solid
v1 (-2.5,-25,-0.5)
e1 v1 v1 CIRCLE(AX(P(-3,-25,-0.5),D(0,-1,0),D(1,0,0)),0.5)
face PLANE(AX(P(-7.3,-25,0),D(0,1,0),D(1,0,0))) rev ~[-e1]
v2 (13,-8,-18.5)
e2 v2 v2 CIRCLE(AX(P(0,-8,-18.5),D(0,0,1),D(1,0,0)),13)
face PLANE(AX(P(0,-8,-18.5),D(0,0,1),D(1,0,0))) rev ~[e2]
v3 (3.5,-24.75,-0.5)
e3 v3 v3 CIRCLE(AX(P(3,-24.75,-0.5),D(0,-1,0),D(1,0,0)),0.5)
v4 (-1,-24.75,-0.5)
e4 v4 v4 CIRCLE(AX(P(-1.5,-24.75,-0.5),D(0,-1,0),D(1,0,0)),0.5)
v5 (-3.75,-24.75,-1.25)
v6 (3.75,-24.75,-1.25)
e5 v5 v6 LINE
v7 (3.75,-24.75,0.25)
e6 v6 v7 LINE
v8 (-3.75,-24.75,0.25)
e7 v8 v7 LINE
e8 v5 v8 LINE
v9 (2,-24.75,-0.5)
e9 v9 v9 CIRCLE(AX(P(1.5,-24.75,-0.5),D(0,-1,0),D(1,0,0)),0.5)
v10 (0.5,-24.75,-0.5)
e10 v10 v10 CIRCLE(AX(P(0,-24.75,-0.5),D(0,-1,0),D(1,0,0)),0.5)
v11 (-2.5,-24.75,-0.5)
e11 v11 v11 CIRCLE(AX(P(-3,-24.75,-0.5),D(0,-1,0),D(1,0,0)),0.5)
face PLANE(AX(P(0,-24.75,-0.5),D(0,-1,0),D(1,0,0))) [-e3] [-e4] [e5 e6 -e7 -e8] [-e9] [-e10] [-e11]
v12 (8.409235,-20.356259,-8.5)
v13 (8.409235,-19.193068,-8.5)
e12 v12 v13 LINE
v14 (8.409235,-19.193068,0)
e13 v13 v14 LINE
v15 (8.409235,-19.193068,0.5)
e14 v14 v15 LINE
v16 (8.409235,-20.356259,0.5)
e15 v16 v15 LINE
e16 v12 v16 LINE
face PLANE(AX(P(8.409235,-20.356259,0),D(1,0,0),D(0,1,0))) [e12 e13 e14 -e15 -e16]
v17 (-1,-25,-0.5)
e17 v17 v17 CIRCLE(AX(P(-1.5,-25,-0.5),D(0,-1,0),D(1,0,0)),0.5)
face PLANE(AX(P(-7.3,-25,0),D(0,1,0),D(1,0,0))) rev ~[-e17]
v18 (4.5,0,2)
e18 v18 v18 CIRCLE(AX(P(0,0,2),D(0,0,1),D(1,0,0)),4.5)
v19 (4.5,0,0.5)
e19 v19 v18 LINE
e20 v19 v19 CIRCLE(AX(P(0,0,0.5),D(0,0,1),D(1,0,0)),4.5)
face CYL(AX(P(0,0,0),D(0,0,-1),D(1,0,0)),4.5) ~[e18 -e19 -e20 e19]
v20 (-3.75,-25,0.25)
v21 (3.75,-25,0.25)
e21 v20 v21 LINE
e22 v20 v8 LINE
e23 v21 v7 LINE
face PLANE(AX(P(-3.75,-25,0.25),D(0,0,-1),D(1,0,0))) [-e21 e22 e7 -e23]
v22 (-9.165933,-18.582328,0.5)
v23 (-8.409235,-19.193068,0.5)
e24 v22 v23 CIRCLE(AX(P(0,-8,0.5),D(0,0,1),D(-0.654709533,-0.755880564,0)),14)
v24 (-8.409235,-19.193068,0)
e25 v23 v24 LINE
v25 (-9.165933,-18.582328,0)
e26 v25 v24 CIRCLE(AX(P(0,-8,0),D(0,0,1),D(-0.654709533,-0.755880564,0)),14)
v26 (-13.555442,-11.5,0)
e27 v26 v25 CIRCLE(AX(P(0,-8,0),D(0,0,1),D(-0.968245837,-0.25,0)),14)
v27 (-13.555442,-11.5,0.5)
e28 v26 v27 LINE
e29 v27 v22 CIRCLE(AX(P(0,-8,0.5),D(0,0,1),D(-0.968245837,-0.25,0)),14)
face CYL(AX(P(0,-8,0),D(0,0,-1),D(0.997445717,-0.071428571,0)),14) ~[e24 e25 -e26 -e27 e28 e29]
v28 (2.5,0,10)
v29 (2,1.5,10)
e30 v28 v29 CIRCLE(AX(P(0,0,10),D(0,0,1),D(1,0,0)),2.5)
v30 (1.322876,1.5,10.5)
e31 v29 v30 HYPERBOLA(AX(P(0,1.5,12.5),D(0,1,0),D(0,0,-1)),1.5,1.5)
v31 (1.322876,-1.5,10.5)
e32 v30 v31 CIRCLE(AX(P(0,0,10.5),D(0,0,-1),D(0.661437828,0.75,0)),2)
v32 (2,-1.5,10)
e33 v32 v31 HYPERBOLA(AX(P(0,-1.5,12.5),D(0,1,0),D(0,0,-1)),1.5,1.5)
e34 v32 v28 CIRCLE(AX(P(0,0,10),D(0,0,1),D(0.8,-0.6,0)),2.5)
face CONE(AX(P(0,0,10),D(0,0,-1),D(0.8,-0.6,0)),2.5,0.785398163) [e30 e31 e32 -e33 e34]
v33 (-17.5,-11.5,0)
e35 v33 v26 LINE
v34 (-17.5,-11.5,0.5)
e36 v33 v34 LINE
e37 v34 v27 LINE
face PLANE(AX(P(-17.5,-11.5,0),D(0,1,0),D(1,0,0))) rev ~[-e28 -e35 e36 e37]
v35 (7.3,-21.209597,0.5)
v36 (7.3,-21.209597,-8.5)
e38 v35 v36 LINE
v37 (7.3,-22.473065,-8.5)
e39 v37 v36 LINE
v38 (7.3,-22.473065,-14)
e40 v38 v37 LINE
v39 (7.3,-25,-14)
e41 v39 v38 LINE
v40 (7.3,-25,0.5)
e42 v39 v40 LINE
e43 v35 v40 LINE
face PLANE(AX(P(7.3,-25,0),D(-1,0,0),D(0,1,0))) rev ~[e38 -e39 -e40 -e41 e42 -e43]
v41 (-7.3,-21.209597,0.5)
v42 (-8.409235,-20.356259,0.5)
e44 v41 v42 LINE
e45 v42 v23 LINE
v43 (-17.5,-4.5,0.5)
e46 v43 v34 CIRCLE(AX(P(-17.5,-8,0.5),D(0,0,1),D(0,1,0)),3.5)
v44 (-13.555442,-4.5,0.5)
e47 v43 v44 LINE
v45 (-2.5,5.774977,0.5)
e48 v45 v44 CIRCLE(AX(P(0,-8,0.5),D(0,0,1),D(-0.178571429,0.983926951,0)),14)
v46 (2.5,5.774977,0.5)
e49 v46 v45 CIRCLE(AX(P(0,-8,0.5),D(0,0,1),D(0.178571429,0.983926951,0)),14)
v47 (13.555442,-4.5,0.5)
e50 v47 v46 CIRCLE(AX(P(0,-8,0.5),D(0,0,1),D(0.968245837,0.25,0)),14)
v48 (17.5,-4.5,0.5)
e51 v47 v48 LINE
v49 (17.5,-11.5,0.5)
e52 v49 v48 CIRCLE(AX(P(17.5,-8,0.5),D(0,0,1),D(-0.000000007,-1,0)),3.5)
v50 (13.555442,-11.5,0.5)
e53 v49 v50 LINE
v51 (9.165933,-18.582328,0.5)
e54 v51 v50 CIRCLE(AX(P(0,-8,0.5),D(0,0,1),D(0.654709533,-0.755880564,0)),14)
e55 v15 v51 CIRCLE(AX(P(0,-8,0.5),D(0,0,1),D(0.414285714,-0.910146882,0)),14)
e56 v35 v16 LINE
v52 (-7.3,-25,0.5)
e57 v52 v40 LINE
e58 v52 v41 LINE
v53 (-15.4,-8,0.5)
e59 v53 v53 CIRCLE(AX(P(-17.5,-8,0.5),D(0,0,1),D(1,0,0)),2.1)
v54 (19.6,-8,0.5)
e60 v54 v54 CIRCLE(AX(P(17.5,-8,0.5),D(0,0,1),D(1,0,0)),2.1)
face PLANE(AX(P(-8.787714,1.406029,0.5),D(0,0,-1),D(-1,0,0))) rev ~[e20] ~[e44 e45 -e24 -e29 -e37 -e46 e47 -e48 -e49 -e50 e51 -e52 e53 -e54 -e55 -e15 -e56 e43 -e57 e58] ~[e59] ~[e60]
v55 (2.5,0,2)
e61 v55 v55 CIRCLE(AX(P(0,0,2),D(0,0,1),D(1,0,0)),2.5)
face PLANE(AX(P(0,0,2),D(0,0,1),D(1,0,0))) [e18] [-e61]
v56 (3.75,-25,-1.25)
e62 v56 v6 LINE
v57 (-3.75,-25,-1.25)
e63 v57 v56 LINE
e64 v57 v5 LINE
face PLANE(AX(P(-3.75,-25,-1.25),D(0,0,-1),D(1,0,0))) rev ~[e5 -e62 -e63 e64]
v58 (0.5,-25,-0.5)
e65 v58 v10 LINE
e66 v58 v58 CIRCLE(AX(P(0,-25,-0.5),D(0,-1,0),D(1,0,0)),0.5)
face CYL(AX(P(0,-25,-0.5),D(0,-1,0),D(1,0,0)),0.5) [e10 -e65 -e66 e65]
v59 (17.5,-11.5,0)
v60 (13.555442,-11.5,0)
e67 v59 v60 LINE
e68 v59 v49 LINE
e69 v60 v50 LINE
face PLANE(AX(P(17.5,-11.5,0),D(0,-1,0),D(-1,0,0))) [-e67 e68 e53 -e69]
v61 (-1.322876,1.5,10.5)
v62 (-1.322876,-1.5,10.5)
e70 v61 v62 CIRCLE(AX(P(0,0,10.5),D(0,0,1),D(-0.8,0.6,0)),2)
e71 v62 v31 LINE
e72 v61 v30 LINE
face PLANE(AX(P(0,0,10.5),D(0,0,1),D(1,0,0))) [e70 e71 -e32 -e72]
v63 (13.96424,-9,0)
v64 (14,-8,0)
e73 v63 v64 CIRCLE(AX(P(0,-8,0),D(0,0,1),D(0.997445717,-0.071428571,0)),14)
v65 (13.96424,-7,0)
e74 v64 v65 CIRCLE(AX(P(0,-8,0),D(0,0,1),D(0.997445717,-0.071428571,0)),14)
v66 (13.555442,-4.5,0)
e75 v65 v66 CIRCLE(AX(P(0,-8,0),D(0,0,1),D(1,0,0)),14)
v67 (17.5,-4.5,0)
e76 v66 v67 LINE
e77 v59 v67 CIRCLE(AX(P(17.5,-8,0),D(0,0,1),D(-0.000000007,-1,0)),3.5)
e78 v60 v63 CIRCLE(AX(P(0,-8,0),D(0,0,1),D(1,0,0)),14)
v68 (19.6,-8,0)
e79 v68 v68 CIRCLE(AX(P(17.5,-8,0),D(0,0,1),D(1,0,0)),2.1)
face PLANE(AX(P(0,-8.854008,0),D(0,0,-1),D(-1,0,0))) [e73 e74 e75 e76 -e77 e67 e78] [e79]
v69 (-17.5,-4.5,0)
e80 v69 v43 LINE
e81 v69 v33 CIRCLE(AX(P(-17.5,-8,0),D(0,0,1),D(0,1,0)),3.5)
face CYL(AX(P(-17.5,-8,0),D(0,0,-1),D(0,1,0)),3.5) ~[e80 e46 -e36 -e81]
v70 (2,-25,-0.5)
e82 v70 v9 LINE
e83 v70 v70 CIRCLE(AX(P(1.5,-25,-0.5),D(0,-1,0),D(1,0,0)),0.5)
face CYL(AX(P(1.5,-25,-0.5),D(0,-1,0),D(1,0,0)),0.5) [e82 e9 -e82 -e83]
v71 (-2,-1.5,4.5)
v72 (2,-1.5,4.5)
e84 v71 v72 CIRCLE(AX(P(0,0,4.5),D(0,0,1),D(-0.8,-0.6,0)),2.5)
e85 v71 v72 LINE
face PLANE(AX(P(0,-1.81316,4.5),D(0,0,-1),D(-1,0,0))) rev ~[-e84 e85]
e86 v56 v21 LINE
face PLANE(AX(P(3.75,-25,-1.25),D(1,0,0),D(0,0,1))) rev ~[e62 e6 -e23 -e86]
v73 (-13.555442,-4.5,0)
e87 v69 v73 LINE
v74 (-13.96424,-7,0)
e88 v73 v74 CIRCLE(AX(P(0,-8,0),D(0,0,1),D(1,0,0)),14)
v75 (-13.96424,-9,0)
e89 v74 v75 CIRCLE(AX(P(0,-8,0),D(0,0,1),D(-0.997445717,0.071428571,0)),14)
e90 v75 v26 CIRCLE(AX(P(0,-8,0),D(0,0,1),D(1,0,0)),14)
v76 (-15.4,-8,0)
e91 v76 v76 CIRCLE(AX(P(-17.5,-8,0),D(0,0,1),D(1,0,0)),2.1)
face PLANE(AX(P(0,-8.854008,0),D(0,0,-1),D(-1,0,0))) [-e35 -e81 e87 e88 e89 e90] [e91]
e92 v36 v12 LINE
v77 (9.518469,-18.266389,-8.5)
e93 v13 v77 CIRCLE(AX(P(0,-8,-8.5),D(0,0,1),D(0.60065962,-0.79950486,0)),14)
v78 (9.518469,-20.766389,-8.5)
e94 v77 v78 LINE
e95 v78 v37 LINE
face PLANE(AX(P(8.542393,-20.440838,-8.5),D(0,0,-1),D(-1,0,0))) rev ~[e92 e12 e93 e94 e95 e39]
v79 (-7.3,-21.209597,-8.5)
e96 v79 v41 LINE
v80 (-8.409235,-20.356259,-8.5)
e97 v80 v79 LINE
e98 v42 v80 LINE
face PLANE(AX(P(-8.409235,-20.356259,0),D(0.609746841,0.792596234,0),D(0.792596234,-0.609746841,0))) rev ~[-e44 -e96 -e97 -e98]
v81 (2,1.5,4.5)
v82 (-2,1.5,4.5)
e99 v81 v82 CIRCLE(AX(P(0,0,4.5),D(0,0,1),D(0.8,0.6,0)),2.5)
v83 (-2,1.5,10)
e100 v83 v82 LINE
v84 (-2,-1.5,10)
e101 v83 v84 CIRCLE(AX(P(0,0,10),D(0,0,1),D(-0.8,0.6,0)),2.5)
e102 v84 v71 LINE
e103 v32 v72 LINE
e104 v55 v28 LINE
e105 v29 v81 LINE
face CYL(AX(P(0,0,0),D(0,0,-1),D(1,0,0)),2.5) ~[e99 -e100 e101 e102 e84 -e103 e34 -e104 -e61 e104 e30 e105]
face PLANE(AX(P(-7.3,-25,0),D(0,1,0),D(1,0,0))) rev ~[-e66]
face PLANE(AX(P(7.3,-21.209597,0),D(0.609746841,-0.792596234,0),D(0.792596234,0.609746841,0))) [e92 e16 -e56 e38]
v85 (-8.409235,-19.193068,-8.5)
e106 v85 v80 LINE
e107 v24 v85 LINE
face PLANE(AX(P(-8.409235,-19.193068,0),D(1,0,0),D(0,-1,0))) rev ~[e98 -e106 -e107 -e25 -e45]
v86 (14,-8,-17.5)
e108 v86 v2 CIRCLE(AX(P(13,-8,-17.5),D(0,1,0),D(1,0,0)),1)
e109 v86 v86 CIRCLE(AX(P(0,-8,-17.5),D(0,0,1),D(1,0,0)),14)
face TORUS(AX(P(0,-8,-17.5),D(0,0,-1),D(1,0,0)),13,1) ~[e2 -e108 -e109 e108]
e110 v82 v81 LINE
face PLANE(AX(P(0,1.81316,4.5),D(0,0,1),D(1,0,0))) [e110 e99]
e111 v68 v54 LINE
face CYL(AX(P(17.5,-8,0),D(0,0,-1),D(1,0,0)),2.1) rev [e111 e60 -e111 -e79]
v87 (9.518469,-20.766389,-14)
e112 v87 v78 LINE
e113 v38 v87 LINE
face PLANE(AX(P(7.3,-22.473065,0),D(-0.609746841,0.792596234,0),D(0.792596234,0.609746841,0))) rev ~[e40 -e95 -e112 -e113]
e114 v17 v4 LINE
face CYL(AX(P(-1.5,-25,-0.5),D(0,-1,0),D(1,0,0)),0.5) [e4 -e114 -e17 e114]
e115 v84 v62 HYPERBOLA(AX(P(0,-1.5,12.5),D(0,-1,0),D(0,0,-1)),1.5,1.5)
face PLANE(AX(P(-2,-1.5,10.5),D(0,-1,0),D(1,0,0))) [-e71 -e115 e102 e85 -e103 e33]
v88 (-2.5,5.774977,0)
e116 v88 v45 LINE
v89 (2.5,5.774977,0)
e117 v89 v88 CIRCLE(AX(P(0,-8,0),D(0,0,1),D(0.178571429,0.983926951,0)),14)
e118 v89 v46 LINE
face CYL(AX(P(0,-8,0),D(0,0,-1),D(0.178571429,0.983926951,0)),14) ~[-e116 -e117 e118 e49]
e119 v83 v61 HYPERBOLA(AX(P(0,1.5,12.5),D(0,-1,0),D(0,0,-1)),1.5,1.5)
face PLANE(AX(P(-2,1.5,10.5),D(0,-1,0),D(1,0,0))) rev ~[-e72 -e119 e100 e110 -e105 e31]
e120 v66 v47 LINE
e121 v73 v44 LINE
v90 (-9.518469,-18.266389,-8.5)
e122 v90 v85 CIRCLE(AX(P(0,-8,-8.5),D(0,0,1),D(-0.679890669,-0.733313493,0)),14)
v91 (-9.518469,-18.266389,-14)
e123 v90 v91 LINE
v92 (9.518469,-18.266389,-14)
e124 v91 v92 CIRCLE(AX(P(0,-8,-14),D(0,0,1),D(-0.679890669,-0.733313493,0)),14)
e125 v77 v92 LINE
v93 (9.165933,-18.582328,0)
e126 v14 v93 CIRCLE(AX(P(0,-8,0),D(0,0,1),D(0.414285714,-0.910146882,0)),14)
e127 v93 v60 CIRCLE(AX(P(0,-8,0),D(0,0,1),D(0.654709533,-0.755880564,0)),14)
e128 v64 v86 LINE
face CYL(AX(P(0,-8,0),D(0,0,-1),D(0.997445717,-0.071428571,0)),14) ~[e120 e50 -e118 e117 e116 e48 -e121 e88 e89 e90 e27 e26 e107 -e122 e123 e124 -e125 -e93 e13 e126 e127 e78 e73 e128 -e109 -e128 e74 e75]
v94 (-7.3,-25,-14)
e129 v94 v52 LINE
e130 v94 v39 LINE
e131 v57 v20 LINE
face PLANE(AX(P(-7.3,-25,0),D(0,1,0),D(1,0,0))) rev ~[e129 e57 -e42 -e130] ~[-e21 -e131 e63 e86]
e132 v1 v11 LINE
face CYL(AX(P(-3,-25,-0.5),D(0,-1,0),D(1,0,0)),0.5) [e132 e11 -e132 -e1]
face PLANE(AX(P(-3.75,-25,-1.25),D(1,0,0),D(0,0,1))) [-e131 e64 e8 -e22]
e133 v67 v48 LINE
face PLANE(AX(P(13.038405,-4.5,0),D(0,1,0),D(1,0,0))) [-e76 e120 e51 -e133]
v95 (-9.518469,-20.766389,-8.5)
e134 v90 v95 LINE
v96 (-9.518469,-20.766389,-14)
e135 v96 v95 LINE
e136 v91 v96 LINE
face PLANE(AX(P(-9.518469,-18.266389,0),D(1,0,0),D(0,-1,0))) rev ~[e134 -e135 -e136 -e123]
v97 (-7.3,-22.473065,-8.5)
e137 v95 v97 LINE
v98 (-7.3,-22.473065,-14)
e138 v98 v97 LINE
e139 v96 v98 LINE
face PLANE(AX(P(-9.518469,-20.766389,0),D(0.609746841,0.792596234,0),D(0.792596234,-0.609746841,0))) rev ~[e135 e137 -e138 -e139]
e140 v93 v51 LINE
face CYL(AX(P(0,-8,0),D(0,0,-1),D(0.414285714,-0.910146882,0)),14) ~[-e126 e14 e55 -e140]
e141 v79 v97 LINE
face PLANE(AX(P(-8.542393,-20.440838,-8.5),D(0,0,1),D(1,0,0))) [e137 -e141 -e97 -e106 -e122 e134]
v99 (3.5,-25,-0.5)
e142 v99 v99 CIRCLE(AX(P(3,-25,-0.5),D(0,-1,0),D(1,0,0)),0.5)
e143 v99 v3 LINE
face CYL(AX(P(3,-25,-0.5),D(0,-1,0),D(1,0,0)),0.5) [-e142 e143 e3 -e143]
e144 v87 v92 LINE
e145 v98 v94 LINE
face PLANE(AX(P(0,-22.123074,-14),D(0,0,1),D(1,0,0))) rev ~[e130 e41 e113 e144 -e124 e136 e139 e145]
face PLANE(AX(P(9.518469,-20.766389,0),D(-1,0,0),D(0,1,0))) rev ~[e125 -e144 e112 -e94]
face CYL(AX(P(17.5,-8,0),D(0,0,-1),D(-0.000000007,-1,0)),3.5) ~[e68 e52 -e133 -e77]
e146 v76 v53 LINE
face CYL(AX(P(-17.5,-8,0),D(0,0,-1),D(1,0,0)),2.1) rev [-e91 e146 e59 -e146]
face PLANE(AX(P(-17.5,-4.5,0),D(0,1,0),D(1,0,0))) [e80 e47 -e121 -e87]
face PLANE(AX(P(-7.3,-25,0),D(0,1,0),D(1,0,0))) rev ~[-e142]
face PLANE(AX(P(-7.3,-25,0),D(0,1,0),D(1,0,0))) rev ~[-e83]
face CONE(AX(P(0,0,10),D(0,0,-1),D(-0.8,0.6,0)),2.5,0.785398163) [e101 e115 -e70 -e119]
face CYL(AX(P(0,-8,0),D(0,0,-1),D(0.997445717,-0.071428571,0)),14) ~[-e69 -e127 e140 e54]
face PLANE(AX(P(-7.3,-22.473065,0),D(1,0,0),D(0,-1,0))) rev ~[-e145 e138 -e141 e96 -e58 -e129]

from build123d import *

# Parameters (mm, degrees)
SKETCH002_R     = 14
PAD001_DEPTH    = 18.5
SKETCH003_R     = 0.5
PAD002_DEPTH    = 0.5
SKETCH004_R     = 4.5
SKETCH004_R_2   = 4
PAD003_DEPTH    = 2
POCKET_DEPTH    = 6
FILLET_R        = 1
SKETCH007_R     = 4
SKETCH007_R_2   = 2.5
PAD005_DEPTH    = 2
PAD006_DEPTH    = 14
PAD007_DEPTH    = 0.5
POCKET001_DEPTH = 8.5
SKETCH011_W     = 7.5
SKETCH011_H     = 1.5
SKETCH011_R     = 0.5
POCKET002_DEPTH = 0.25
SKETCH012_R     = 2.5
PAD008_DEPTH    = 10.5
POCKET003_DEPTH = 6
CHAMFER_SIZE    = 0.5
SKETCH001_R     = 4.5
SKETCH001_R_2   = 0.5
SKETCH001_R_3   = 2.1
PAD_DEPTH       = 0.5


with BuildPart() as body001:
    # Sketch002 → Pad001 (new body)
    with BuildSketch(Plane.XY):
        with Locations((0, -8)):
            Circle(SKETCH002_R)
    extrude(amount=-PAD001_DEPTH)

    # Sketch003 → Pad002 (join)
    with BuildSketch(Plane.XY):
        with Locations((0, -12)):
            Circle(SKETCH003_R)
        with Locations((7, -8)):
            Circle(SKETCH003_R)
        with Locations((6, -4)):
            Circle(SKETCH003_R)
        with BuildLine():
            ThreePointArc((-10.8742815855, 0), (-12.1662090508, -2.1490720964), (-13.0384048104, -4.5))
            Line((-13.0384048104, -4.5), (-13.5554417117, -4.5))
            ThreePointArc((-2.5, 5.774977314), (-9.5309019426, 2.254848032), (-13.5554417117, -4.5))
            Line((-2.5, 5.2664991614), (-2.5, 5.774977314))
            ThreePointArc((-2.5, 5.2664991614), (-6.2865544647, 3.9469340402), (-9.5184693635, 1.5733348932))
            Line((-9.1659334611, 1.2187669342), (-9.5184693635, 1.5733348932))
            ThreePointArc((-9.1659334611, 1.2187669342), (-9.8479109981, 0.4863802044), (-10.4715304156, -0.2962962963))
            Line((-10.8742815855, 0), (-10.4715304156, -0.2962962963))
        make_face()
        with BuildLine():
            Line((-13.9642400438, -7), (-13.4629120178, -7))
            ThreePointArc((-13.4629120178, -7), (-13.5, -8), (-13.4629120178, -9))
            Line((-13.9642400438, -9), (-13.4629120178, -9))
            ThreePointArc((-13.9642400438, -7), (-14, -8), (-13.9642400438, -9))
        make_face()
        with BuildLine():
            Line((-9.1659334611, -18.5823279002), (-9.1659334611, -17.9113906081))
            ThreePointArc((-9.5184693635, -17.5733348932), (-9.3437303923, -17.7439572226), (-9.1659334611, -17.9113906081))
            Line((-9.5184693635, -17.5733348932), (-9.1659334611, -17.2187669342))
            ThreePointArc((-10.4715304156, -15.7037037037), (-9.8479109981, -16.4863802044), (-9.1659334611, -17.2187669342))
            Line((-10.4715304156, -15.7037037037), (-10.8742815855, -16))
            ThreePointArc((-13.0384048104, -11.5), (-12.1662090508, -13.8509279036), (-10.8742815855, -16))
            Line((-13.0384048104, -11.5), (-13.5554417117, -11.5))
            ThreePointArc((-13.5554417117, -11.5), (-11.8997926267, -15.3752922276), (-9.1659334611, -18.5823279002))
        make_face()
        with BuildLine():
            Line((2.5, 5.774977314), (2.5, 5.2664991614))
            ThreePointArc((9.5184693635, 1.5733348932), (6.2865544647, 3.9469340402), (2.5, 5.2664991614))
            Line((9.1659334611, 1.2187669342), (9.5184693635, 1.5733348932))
            ThreePointArc((10.4715304156, -0.2962962963), (9.8479109981, 0.4863802044), (9.1659334611, 1.2187669342))
            Line((10.4715304156, -0.2962962963), (10.8742815855, 0))
            ThreePointArc((13.0384048104, -4.5), (12.1662090508, -2.1490720964), (10.8742815855, 0))
            Line((13.0384048104, -4.5), (13.5554417117, -4.5))
            ThreePointArc((13.5554417117, -4.5), (9.5309019426, 2.254848032), (2.5, 5.774977314))
        make_face()
        with BuildLine():
            Line((13.0384048104, -11.5), (13.5554417117, -11.5))
            ThreePointArc((9.1659334611, -18.5823279002), (11.8997926267, -15.3752922276), (13.5554417117, -11.5))
            Line((9.1659334611, -17.9113906081), (9.1659334611, -18.5823279002))
            ThreePointArc((9.1659334611, -17.9113906081), (9.3437303923, -17.7439572226), (9.5184693635, -17.5733348932))
            Line((9.1659334611, -17.2187669342), (9.5184693635, -17.5733348932))
            ThreePointArc((9.1659334611, -17.2187669342), (9.8479109981, -16.4863802044), (10.4715304156, -15.7037037037))
            Line((10.4715304156, -15.7037037037), (10.8742815855, -16))
            ThreePointArc((10.8742815855, -16), (12.1662090508, -13.8509279036), (13.0384048104, -11.5))
        make_face()
        with BuildLine():
            ThreePointArc((13.4629120178, -9), (13.5, -8), (13.4629120178, -7))
            Line((13.4629120178, -7), (13.9642400438, -7))
            ThreePointArc((13.9642400438, -9), (14, -8), (13.9642400438, -7))
            Line((13.4629120178, -9), (13.9642400438, -9))
        make_face()
    extrude(amount=PAD002_DEPTH)

    # Sketch004 → Pad003 (join)
    with BuildSketch(Plane.XY):
        Circle(SKETCH004_R)
        Circle(SKETCH004_R_2, mode=Mode.SUBTRACT)
    extrude(amount=PAD003_DEPTH)

    # Sketch006 → Pocket (cut)
    with BuildSketch(Plane.XY.offset(10.5)):
        with BuildLine():
            Line((-2.0000003272, 1.4999995637), (2.0000003272, 1.4999995637))
            ThreePointArc((2.0000003272, 1.4999995637), (0, 2.5), (-2.0000003272, 1.4999995637))
        make_face()
        with BuildLine():
            Line((-1.9999996728, -1.5000004363), (1.9999996728, -1.5000004363))
            ThreePointArc((-1.9999996728, -1.5000004363), (0, -2.5), (1.9999996728, -1.5000004363))
        make_face()
    extrude(amount=-POCKET_DEPTH, mode=Mode.SUBTRACT)

    # Fillet
    fillet_edges = [body001.edges().sort_by_distance(p)[0] for p in [
        (-14, -8, -18.5),
    ]]
    fillet(fillet_edges, radius=FILLET_R)


with BuildPart() as body002:
    # Sketch007 → Pad005 (new body)
    with BuildSketch(Plane.XY):
        Circle(SKETCH007_R)
        Circle(SKETCH007_R_2, mode=Mode.SUBTRACT)
    extrude(amount=PAD005_DEPTH)


with BuildPart() as body003:
    # Sketch008 → Pad006 (new body)
    with BuildSketch(Plane.XY):
        with BuildLine():
            Line((-9.5184693635, -18.2663888966), (-9.5184693635, -20.7663888966))
            Line((-9.5184693635, -20.7663888966), (-7.3, -22.4730645401))
            Line((-7.3, -22.4730645401), (-7.3, -25))
            Line((-7.3, -25), (7.3, -25))
            Line((7.3, -25), (7.3, -22.4730645401))
            Line((7.3, -22.4730645401), (9.5184693635, -20.7663888966))
            Line((9.5184693635, -20.7663888966), (9.5184693635, -18.2663888966))
            ThreePointArc((-9.5184693635, -18.2663888966), (0, -22), (9.5184693635, -18.2663888966))
        make_face()
    extrude(amount=-PAD006_DEPTH)

    # Sketch009 → Pad007 (join)
    with BuildSketch(Plane.XY):
        with BuildLine():
            Line((-9.5184693635, -18.2663888966), (-9.5184693635, -20.7663888966))
            Line((-9.5184693635, -20.7663888966), (-7.3, -22.4730645401))
            Line((-7.3, -22.4730645401), (-7.3, -25))
            Line((-7.3, -25), (7.3, -25))
            Line((7.3, -25), (7.3, -22.4730645401))
            Line((7.3, -22.4730645401), (9.5184693635, -20.7663888966))
            Line((9.5184693635, -20.7663888966), (9.5184693635, -18.2663888966))
            ThreePointArc((5.8, -20.742056349), (7.7586150983, -19.6534926849), (9.5184693635, -18.2663888966))
            Line((5.8, -20.742056349), (5.8, -23.5))
            Line((5.8, -23.5), (-5.8, -23.5))
            Line((-5.8, -23.5), (-5.8, -20.742056349))
            ThreePointArc((-9.5184693635, -18.2663888966), (-7.7586150983, -19.6534926849), (-5.8, -20.742056349))
        make_face()
    extrude(amount=PAD007_DEPTH)

    # Sketch010 → Pocket001 (cut, symmetric)
    with BuildSketch(Plane.XY):
        with BuildLine():
            Line((-9.5184693635, -18.2663888966), (-9.5184693635, -20.7663888966))
            Line((-9.5184693635, -20.7663888966), (-7.3, -22.4730645401))
            Line((-7.3, -21.2095968101), (-7.3, -22.4730645401))
            Line((-8.4092346817, -20.3562589884), (-7.3, -21.2095968101))
            Line((-8.4092346817, -19.1930680364), (-8.4092346817, -20.3562589884))
            ThreePointArc((-9.5184693635, -18.2663888966), (-8.9758189955, -18.7440529299), (-8.4092346817, -19.1930680364))
        make_face()
        with BuildLine():
            Line((9.5184693635, -18.2663888966), (9.5184693635, -20.7663888966))
            Line((9.5184693635, -20.7663888966), (7.3, -22.4730645401))
            Line((7.3, -22.4730645401), (7.3, -21.2095968101))
            Line((7.3, -21.2095968101), (8.4092346817, -20.3562589884))
            Line((8.4092346817, -20.3562589884), (8.4092346817, -19.1930680364))
            ThreePointArc((8.4092346817, -19.1930680364), (8.9758189955, -18.7440529299), (9.5184693635, -18.2663888966))
        make_face()
    extrude(amount=POCKET001_DEPTH, both=True, mode=Mode.SUBTRACT)

    # Sketch011 (on Face10 of Pocket001) → Pocket002 (cut)
    with BuildSketch(Plane.XZ.offset(25)):
        with Locations((0, -0.5)):
            Rectangle(SKETCH011_W, SKETCH011_H)
        with Locations((0, -0.5)):
            Circle(SKETCH011_R, mode=Mode.SUBTRACT)
        with Locations((-1.5, -0.5)):
            Circle(SKETCH011_R, mode=Mode.SUBTRACT)
        with Locations((-3, -0.5)):
            Circle(SKETCH011_R, mode=Mode.SUBTRACT)
        with Locations((1.5, -0.5)):
            Circle(SKETCH011_R, mode=Mode.SUBTRACT)
        with Locations((3, -0.5)):
            Circle(SKETCH011_R, mode=Mode.SUBTRACT)
    extrude(amount=-POCKET002_DEPTH, mode=Mode.SUBTRACT)


with BuildPart() as body004:
    # Sketch012 → Pad008 (new body)
    with BuildSketch(Plane.XY):
        Circle(SKETCH012_R)
    extrude(amount=PAD008_DEPTH)

    # Sketch013 (on Face3 of Pad008) → Pocket003 (cut)
    with BuildSketch(Plane.XY.offset(10.5)):
        with BuildLine():
            Line((-2, 1.5), (2, 1.5))
            ThreePointArc((2, 1.5), (0, 2.5), (-2, 1.5))
        make_face()
        with BuildLine():
            Line((-2, -1.5), (2, -1.5))
            ThreePointArc((-2, -1.5), (0, -2.5), (2, -1.5))
        make_face()
    extrude(amount=-POCKET003_DEPTH, mode=Mode.SUBTRACT)

    # Chamfer
    chamfer_edges = [body004.edges().sort_by_distance(p)[0] for p in [
        (-2.5, 0, 10.5),
        (2.371708, -0.790569, 10.5),
        (2.371708, 0.790569, 10.5),
    ]]
    chamfer(chamfer_edges, length=CHAMFER_SIZE)


with BuildPart() as fusion:
    # Sketch001 → Pad (new body)
    with BuildSketch(Plane.XY):
        with BuildLine():
            Line((-17.5, -4.5), (-13.0384048104, -4.5))
            ThreePointArc((-10.8742815855, 0), (-12.1662090508, -2.1490720964), (-13.0384048104, -4.5))
            Line((-10.8742815855, 0), (-10.4715304156, -0.2962962963))
            ThreePointArc((-9.1659334611, 1.2187669342), (-9.8479109981, 0.4863802044), (-10.4715304156, -0.2962962963))
            Line((-9.5184693635, 1.5733348932), (-9.1659334611, 1.2187669342))
            ThreePointArc((-2.5, 5.2664991614), (-6.2865544647, 3.9469340402), (-9.5184693635, 1.5733348932))
            Line((-2.5, 5.2664991614), (-2.5, 5.774977314))
            ThreePointArc((2.5, 5.774977314), (0, 6), (-2.5, 5.774977314))
            Line((2.5, 5.774977314), (2.5, 5.2664991614))
            ThreePointArc((9.5184693635, 1.5733348932), (6.2865544647, 3.9469340402), (2.5, 5.2664991614))
            Line((9.1659334611, 1.2187669342), (9.5184693635, 1.5733348932))
            ThreePointArc((10.4715304156, -0.2962962963), (9.8479109981, 0.4863802044), (9.1659334611, 1.2187669342))
            Line((10.4715304156, -0.2962962963), (10.8742815855, 0))
            ThreePointArc((13.0384048104, -4.5), (12.1662090508, -2.1490720964), (10.8742815855, 0))
            Line((13.0384048104, -4.5), (17.5, -4.5))
            ThreePointArc((17.499999975, -11.5), (21, -8.0000000125), (17.5, -4.5))
            Line((17.499999975, -11.5), (13.0384048104, -11.5))
            ThreePointArc((10.8742815855, -16), (12.1662090508, -13.8509279036), (13.0384048104, -11.5))
            Line((10.4715304156, -15.7037037037), (10.8742815855, -16))
            ThreePointArc((9.1659334611, -17.2187669342), (9.8479109981, -16.4863802044), (10.4715304156, -15.7037037037))
            Line((9.1659334611, -17.2187669342), (9.5184693635, -17.5733348932))
            ThreePointArc((9.1659334611, -17.9113906081), (9.3437303923, -17.7439572226), (9.5184693635, -17.5733348932))
            Line((9.1659334611, -17.9113906081), (9.1659334611, -18.5823279002))
            ThreePointArc((5.8, -20.742056349), (7.5604826456, -19.7830005587), (9.1659334611, -18.5823279002))
            Line((5.8, -23.5), (5.8, -20.742056349))
            Line((-5.8, -23.5), (5.8, -23.5))
            Line((-5.8, -20.742056349), (-5.8, -23.5))
            ThreePointArc((-9.1659334611, -18.5823279002), (-7.5604826456, -19.7830005587), (-5.8, -20.742056349))
            Line((-9.1659334611, -18.5823279002), (-9.1659334611, -17.9113906081))
            ThreePointArc((-9.5184693635, -17.5733348932), (-9.3437303923, -17.7439572226), (-9.1659334611, -17.9113906081))
            Line((-9.1659334611, -17.2187669342), (-9.5184693635, -17.5733348932))
            ThreePointArc((-10.4715304156, -15.7037037037), (-9.8479109981, -16.4863802044), (-9.1659334611, -17.2187669342))
            Line((-10.8742815855, -16), (-10.4715304156, -15.7037037037))
            ThreePointArc((-13.0384048104, -11.5), (-12.1662090508, -13.8509279036), (-10.8742815855, -16))
            Line((-17.499999975, -11.5), (-13.0384048104, -11.5))
            ThreePointArc((-17.5, -4.5), (-21, -8.0000000125), (-17.499999975, -11.5))
        make_face()
        Circle(SKETCH001_R, mode=Mode.SUBTRACT)
        with Locations((6, -4)):
            Circle(SKETCH001_R_2, mode=Mode.SUBTRACT)
        with Locations((7, -8)):
            Circle(SKETCH001_R_2, mode=Mode.SUBTRACT)
        with Locations((0, -12)):
            Circle(SKETCH001_R_2, mode=Mode.SUBTRACT)
        with Locations((17.5, -8)):
            Circle(SKETCH001_R_3, mode=Mode.SUBTRACT)
        with Locations((-17.5, -8)):
            Circle(SKETCH001_R_3, mode=Mode.SUBTRACT)
        with BuildLine():
            Line((-13.9642400438, -7), (-13.4629120178, -7))
            ThreePointArc((-13.4629120178, -7), (-13.5, -8), (-13.4629120178, -9))
            Line((-13.9642400438, -9), (-13.4629120178, -9))
            ThreePointArc((-13.9642400438, -7), (-14, -8), (-13.9642400438, -9))
        make_face(mode=Mode.SUBTRACT)
        with BuildLine():
            Line((13.4629120178, -7), (13.9642400438, -7))
            ThreePointArc((13.9642400438, -9), (14, -8), (13.9642400438, -7))
            Line((13.4629120178, -9), (13.9642400438, -9))
            ThreePointArc((13.4629120178, -9), (13.5, -8), (13.4629120178, -7))
        make_face(mode=Mode.SUBTRACT)
    extrude(amount=PAD_DEPTH)

    # Fusion: union Body001, Body002, Body003, Body004
    add(body001.part)
    add(body002.part)
    add(body003.part)
    add(body004.part)


solid = fusion.part
